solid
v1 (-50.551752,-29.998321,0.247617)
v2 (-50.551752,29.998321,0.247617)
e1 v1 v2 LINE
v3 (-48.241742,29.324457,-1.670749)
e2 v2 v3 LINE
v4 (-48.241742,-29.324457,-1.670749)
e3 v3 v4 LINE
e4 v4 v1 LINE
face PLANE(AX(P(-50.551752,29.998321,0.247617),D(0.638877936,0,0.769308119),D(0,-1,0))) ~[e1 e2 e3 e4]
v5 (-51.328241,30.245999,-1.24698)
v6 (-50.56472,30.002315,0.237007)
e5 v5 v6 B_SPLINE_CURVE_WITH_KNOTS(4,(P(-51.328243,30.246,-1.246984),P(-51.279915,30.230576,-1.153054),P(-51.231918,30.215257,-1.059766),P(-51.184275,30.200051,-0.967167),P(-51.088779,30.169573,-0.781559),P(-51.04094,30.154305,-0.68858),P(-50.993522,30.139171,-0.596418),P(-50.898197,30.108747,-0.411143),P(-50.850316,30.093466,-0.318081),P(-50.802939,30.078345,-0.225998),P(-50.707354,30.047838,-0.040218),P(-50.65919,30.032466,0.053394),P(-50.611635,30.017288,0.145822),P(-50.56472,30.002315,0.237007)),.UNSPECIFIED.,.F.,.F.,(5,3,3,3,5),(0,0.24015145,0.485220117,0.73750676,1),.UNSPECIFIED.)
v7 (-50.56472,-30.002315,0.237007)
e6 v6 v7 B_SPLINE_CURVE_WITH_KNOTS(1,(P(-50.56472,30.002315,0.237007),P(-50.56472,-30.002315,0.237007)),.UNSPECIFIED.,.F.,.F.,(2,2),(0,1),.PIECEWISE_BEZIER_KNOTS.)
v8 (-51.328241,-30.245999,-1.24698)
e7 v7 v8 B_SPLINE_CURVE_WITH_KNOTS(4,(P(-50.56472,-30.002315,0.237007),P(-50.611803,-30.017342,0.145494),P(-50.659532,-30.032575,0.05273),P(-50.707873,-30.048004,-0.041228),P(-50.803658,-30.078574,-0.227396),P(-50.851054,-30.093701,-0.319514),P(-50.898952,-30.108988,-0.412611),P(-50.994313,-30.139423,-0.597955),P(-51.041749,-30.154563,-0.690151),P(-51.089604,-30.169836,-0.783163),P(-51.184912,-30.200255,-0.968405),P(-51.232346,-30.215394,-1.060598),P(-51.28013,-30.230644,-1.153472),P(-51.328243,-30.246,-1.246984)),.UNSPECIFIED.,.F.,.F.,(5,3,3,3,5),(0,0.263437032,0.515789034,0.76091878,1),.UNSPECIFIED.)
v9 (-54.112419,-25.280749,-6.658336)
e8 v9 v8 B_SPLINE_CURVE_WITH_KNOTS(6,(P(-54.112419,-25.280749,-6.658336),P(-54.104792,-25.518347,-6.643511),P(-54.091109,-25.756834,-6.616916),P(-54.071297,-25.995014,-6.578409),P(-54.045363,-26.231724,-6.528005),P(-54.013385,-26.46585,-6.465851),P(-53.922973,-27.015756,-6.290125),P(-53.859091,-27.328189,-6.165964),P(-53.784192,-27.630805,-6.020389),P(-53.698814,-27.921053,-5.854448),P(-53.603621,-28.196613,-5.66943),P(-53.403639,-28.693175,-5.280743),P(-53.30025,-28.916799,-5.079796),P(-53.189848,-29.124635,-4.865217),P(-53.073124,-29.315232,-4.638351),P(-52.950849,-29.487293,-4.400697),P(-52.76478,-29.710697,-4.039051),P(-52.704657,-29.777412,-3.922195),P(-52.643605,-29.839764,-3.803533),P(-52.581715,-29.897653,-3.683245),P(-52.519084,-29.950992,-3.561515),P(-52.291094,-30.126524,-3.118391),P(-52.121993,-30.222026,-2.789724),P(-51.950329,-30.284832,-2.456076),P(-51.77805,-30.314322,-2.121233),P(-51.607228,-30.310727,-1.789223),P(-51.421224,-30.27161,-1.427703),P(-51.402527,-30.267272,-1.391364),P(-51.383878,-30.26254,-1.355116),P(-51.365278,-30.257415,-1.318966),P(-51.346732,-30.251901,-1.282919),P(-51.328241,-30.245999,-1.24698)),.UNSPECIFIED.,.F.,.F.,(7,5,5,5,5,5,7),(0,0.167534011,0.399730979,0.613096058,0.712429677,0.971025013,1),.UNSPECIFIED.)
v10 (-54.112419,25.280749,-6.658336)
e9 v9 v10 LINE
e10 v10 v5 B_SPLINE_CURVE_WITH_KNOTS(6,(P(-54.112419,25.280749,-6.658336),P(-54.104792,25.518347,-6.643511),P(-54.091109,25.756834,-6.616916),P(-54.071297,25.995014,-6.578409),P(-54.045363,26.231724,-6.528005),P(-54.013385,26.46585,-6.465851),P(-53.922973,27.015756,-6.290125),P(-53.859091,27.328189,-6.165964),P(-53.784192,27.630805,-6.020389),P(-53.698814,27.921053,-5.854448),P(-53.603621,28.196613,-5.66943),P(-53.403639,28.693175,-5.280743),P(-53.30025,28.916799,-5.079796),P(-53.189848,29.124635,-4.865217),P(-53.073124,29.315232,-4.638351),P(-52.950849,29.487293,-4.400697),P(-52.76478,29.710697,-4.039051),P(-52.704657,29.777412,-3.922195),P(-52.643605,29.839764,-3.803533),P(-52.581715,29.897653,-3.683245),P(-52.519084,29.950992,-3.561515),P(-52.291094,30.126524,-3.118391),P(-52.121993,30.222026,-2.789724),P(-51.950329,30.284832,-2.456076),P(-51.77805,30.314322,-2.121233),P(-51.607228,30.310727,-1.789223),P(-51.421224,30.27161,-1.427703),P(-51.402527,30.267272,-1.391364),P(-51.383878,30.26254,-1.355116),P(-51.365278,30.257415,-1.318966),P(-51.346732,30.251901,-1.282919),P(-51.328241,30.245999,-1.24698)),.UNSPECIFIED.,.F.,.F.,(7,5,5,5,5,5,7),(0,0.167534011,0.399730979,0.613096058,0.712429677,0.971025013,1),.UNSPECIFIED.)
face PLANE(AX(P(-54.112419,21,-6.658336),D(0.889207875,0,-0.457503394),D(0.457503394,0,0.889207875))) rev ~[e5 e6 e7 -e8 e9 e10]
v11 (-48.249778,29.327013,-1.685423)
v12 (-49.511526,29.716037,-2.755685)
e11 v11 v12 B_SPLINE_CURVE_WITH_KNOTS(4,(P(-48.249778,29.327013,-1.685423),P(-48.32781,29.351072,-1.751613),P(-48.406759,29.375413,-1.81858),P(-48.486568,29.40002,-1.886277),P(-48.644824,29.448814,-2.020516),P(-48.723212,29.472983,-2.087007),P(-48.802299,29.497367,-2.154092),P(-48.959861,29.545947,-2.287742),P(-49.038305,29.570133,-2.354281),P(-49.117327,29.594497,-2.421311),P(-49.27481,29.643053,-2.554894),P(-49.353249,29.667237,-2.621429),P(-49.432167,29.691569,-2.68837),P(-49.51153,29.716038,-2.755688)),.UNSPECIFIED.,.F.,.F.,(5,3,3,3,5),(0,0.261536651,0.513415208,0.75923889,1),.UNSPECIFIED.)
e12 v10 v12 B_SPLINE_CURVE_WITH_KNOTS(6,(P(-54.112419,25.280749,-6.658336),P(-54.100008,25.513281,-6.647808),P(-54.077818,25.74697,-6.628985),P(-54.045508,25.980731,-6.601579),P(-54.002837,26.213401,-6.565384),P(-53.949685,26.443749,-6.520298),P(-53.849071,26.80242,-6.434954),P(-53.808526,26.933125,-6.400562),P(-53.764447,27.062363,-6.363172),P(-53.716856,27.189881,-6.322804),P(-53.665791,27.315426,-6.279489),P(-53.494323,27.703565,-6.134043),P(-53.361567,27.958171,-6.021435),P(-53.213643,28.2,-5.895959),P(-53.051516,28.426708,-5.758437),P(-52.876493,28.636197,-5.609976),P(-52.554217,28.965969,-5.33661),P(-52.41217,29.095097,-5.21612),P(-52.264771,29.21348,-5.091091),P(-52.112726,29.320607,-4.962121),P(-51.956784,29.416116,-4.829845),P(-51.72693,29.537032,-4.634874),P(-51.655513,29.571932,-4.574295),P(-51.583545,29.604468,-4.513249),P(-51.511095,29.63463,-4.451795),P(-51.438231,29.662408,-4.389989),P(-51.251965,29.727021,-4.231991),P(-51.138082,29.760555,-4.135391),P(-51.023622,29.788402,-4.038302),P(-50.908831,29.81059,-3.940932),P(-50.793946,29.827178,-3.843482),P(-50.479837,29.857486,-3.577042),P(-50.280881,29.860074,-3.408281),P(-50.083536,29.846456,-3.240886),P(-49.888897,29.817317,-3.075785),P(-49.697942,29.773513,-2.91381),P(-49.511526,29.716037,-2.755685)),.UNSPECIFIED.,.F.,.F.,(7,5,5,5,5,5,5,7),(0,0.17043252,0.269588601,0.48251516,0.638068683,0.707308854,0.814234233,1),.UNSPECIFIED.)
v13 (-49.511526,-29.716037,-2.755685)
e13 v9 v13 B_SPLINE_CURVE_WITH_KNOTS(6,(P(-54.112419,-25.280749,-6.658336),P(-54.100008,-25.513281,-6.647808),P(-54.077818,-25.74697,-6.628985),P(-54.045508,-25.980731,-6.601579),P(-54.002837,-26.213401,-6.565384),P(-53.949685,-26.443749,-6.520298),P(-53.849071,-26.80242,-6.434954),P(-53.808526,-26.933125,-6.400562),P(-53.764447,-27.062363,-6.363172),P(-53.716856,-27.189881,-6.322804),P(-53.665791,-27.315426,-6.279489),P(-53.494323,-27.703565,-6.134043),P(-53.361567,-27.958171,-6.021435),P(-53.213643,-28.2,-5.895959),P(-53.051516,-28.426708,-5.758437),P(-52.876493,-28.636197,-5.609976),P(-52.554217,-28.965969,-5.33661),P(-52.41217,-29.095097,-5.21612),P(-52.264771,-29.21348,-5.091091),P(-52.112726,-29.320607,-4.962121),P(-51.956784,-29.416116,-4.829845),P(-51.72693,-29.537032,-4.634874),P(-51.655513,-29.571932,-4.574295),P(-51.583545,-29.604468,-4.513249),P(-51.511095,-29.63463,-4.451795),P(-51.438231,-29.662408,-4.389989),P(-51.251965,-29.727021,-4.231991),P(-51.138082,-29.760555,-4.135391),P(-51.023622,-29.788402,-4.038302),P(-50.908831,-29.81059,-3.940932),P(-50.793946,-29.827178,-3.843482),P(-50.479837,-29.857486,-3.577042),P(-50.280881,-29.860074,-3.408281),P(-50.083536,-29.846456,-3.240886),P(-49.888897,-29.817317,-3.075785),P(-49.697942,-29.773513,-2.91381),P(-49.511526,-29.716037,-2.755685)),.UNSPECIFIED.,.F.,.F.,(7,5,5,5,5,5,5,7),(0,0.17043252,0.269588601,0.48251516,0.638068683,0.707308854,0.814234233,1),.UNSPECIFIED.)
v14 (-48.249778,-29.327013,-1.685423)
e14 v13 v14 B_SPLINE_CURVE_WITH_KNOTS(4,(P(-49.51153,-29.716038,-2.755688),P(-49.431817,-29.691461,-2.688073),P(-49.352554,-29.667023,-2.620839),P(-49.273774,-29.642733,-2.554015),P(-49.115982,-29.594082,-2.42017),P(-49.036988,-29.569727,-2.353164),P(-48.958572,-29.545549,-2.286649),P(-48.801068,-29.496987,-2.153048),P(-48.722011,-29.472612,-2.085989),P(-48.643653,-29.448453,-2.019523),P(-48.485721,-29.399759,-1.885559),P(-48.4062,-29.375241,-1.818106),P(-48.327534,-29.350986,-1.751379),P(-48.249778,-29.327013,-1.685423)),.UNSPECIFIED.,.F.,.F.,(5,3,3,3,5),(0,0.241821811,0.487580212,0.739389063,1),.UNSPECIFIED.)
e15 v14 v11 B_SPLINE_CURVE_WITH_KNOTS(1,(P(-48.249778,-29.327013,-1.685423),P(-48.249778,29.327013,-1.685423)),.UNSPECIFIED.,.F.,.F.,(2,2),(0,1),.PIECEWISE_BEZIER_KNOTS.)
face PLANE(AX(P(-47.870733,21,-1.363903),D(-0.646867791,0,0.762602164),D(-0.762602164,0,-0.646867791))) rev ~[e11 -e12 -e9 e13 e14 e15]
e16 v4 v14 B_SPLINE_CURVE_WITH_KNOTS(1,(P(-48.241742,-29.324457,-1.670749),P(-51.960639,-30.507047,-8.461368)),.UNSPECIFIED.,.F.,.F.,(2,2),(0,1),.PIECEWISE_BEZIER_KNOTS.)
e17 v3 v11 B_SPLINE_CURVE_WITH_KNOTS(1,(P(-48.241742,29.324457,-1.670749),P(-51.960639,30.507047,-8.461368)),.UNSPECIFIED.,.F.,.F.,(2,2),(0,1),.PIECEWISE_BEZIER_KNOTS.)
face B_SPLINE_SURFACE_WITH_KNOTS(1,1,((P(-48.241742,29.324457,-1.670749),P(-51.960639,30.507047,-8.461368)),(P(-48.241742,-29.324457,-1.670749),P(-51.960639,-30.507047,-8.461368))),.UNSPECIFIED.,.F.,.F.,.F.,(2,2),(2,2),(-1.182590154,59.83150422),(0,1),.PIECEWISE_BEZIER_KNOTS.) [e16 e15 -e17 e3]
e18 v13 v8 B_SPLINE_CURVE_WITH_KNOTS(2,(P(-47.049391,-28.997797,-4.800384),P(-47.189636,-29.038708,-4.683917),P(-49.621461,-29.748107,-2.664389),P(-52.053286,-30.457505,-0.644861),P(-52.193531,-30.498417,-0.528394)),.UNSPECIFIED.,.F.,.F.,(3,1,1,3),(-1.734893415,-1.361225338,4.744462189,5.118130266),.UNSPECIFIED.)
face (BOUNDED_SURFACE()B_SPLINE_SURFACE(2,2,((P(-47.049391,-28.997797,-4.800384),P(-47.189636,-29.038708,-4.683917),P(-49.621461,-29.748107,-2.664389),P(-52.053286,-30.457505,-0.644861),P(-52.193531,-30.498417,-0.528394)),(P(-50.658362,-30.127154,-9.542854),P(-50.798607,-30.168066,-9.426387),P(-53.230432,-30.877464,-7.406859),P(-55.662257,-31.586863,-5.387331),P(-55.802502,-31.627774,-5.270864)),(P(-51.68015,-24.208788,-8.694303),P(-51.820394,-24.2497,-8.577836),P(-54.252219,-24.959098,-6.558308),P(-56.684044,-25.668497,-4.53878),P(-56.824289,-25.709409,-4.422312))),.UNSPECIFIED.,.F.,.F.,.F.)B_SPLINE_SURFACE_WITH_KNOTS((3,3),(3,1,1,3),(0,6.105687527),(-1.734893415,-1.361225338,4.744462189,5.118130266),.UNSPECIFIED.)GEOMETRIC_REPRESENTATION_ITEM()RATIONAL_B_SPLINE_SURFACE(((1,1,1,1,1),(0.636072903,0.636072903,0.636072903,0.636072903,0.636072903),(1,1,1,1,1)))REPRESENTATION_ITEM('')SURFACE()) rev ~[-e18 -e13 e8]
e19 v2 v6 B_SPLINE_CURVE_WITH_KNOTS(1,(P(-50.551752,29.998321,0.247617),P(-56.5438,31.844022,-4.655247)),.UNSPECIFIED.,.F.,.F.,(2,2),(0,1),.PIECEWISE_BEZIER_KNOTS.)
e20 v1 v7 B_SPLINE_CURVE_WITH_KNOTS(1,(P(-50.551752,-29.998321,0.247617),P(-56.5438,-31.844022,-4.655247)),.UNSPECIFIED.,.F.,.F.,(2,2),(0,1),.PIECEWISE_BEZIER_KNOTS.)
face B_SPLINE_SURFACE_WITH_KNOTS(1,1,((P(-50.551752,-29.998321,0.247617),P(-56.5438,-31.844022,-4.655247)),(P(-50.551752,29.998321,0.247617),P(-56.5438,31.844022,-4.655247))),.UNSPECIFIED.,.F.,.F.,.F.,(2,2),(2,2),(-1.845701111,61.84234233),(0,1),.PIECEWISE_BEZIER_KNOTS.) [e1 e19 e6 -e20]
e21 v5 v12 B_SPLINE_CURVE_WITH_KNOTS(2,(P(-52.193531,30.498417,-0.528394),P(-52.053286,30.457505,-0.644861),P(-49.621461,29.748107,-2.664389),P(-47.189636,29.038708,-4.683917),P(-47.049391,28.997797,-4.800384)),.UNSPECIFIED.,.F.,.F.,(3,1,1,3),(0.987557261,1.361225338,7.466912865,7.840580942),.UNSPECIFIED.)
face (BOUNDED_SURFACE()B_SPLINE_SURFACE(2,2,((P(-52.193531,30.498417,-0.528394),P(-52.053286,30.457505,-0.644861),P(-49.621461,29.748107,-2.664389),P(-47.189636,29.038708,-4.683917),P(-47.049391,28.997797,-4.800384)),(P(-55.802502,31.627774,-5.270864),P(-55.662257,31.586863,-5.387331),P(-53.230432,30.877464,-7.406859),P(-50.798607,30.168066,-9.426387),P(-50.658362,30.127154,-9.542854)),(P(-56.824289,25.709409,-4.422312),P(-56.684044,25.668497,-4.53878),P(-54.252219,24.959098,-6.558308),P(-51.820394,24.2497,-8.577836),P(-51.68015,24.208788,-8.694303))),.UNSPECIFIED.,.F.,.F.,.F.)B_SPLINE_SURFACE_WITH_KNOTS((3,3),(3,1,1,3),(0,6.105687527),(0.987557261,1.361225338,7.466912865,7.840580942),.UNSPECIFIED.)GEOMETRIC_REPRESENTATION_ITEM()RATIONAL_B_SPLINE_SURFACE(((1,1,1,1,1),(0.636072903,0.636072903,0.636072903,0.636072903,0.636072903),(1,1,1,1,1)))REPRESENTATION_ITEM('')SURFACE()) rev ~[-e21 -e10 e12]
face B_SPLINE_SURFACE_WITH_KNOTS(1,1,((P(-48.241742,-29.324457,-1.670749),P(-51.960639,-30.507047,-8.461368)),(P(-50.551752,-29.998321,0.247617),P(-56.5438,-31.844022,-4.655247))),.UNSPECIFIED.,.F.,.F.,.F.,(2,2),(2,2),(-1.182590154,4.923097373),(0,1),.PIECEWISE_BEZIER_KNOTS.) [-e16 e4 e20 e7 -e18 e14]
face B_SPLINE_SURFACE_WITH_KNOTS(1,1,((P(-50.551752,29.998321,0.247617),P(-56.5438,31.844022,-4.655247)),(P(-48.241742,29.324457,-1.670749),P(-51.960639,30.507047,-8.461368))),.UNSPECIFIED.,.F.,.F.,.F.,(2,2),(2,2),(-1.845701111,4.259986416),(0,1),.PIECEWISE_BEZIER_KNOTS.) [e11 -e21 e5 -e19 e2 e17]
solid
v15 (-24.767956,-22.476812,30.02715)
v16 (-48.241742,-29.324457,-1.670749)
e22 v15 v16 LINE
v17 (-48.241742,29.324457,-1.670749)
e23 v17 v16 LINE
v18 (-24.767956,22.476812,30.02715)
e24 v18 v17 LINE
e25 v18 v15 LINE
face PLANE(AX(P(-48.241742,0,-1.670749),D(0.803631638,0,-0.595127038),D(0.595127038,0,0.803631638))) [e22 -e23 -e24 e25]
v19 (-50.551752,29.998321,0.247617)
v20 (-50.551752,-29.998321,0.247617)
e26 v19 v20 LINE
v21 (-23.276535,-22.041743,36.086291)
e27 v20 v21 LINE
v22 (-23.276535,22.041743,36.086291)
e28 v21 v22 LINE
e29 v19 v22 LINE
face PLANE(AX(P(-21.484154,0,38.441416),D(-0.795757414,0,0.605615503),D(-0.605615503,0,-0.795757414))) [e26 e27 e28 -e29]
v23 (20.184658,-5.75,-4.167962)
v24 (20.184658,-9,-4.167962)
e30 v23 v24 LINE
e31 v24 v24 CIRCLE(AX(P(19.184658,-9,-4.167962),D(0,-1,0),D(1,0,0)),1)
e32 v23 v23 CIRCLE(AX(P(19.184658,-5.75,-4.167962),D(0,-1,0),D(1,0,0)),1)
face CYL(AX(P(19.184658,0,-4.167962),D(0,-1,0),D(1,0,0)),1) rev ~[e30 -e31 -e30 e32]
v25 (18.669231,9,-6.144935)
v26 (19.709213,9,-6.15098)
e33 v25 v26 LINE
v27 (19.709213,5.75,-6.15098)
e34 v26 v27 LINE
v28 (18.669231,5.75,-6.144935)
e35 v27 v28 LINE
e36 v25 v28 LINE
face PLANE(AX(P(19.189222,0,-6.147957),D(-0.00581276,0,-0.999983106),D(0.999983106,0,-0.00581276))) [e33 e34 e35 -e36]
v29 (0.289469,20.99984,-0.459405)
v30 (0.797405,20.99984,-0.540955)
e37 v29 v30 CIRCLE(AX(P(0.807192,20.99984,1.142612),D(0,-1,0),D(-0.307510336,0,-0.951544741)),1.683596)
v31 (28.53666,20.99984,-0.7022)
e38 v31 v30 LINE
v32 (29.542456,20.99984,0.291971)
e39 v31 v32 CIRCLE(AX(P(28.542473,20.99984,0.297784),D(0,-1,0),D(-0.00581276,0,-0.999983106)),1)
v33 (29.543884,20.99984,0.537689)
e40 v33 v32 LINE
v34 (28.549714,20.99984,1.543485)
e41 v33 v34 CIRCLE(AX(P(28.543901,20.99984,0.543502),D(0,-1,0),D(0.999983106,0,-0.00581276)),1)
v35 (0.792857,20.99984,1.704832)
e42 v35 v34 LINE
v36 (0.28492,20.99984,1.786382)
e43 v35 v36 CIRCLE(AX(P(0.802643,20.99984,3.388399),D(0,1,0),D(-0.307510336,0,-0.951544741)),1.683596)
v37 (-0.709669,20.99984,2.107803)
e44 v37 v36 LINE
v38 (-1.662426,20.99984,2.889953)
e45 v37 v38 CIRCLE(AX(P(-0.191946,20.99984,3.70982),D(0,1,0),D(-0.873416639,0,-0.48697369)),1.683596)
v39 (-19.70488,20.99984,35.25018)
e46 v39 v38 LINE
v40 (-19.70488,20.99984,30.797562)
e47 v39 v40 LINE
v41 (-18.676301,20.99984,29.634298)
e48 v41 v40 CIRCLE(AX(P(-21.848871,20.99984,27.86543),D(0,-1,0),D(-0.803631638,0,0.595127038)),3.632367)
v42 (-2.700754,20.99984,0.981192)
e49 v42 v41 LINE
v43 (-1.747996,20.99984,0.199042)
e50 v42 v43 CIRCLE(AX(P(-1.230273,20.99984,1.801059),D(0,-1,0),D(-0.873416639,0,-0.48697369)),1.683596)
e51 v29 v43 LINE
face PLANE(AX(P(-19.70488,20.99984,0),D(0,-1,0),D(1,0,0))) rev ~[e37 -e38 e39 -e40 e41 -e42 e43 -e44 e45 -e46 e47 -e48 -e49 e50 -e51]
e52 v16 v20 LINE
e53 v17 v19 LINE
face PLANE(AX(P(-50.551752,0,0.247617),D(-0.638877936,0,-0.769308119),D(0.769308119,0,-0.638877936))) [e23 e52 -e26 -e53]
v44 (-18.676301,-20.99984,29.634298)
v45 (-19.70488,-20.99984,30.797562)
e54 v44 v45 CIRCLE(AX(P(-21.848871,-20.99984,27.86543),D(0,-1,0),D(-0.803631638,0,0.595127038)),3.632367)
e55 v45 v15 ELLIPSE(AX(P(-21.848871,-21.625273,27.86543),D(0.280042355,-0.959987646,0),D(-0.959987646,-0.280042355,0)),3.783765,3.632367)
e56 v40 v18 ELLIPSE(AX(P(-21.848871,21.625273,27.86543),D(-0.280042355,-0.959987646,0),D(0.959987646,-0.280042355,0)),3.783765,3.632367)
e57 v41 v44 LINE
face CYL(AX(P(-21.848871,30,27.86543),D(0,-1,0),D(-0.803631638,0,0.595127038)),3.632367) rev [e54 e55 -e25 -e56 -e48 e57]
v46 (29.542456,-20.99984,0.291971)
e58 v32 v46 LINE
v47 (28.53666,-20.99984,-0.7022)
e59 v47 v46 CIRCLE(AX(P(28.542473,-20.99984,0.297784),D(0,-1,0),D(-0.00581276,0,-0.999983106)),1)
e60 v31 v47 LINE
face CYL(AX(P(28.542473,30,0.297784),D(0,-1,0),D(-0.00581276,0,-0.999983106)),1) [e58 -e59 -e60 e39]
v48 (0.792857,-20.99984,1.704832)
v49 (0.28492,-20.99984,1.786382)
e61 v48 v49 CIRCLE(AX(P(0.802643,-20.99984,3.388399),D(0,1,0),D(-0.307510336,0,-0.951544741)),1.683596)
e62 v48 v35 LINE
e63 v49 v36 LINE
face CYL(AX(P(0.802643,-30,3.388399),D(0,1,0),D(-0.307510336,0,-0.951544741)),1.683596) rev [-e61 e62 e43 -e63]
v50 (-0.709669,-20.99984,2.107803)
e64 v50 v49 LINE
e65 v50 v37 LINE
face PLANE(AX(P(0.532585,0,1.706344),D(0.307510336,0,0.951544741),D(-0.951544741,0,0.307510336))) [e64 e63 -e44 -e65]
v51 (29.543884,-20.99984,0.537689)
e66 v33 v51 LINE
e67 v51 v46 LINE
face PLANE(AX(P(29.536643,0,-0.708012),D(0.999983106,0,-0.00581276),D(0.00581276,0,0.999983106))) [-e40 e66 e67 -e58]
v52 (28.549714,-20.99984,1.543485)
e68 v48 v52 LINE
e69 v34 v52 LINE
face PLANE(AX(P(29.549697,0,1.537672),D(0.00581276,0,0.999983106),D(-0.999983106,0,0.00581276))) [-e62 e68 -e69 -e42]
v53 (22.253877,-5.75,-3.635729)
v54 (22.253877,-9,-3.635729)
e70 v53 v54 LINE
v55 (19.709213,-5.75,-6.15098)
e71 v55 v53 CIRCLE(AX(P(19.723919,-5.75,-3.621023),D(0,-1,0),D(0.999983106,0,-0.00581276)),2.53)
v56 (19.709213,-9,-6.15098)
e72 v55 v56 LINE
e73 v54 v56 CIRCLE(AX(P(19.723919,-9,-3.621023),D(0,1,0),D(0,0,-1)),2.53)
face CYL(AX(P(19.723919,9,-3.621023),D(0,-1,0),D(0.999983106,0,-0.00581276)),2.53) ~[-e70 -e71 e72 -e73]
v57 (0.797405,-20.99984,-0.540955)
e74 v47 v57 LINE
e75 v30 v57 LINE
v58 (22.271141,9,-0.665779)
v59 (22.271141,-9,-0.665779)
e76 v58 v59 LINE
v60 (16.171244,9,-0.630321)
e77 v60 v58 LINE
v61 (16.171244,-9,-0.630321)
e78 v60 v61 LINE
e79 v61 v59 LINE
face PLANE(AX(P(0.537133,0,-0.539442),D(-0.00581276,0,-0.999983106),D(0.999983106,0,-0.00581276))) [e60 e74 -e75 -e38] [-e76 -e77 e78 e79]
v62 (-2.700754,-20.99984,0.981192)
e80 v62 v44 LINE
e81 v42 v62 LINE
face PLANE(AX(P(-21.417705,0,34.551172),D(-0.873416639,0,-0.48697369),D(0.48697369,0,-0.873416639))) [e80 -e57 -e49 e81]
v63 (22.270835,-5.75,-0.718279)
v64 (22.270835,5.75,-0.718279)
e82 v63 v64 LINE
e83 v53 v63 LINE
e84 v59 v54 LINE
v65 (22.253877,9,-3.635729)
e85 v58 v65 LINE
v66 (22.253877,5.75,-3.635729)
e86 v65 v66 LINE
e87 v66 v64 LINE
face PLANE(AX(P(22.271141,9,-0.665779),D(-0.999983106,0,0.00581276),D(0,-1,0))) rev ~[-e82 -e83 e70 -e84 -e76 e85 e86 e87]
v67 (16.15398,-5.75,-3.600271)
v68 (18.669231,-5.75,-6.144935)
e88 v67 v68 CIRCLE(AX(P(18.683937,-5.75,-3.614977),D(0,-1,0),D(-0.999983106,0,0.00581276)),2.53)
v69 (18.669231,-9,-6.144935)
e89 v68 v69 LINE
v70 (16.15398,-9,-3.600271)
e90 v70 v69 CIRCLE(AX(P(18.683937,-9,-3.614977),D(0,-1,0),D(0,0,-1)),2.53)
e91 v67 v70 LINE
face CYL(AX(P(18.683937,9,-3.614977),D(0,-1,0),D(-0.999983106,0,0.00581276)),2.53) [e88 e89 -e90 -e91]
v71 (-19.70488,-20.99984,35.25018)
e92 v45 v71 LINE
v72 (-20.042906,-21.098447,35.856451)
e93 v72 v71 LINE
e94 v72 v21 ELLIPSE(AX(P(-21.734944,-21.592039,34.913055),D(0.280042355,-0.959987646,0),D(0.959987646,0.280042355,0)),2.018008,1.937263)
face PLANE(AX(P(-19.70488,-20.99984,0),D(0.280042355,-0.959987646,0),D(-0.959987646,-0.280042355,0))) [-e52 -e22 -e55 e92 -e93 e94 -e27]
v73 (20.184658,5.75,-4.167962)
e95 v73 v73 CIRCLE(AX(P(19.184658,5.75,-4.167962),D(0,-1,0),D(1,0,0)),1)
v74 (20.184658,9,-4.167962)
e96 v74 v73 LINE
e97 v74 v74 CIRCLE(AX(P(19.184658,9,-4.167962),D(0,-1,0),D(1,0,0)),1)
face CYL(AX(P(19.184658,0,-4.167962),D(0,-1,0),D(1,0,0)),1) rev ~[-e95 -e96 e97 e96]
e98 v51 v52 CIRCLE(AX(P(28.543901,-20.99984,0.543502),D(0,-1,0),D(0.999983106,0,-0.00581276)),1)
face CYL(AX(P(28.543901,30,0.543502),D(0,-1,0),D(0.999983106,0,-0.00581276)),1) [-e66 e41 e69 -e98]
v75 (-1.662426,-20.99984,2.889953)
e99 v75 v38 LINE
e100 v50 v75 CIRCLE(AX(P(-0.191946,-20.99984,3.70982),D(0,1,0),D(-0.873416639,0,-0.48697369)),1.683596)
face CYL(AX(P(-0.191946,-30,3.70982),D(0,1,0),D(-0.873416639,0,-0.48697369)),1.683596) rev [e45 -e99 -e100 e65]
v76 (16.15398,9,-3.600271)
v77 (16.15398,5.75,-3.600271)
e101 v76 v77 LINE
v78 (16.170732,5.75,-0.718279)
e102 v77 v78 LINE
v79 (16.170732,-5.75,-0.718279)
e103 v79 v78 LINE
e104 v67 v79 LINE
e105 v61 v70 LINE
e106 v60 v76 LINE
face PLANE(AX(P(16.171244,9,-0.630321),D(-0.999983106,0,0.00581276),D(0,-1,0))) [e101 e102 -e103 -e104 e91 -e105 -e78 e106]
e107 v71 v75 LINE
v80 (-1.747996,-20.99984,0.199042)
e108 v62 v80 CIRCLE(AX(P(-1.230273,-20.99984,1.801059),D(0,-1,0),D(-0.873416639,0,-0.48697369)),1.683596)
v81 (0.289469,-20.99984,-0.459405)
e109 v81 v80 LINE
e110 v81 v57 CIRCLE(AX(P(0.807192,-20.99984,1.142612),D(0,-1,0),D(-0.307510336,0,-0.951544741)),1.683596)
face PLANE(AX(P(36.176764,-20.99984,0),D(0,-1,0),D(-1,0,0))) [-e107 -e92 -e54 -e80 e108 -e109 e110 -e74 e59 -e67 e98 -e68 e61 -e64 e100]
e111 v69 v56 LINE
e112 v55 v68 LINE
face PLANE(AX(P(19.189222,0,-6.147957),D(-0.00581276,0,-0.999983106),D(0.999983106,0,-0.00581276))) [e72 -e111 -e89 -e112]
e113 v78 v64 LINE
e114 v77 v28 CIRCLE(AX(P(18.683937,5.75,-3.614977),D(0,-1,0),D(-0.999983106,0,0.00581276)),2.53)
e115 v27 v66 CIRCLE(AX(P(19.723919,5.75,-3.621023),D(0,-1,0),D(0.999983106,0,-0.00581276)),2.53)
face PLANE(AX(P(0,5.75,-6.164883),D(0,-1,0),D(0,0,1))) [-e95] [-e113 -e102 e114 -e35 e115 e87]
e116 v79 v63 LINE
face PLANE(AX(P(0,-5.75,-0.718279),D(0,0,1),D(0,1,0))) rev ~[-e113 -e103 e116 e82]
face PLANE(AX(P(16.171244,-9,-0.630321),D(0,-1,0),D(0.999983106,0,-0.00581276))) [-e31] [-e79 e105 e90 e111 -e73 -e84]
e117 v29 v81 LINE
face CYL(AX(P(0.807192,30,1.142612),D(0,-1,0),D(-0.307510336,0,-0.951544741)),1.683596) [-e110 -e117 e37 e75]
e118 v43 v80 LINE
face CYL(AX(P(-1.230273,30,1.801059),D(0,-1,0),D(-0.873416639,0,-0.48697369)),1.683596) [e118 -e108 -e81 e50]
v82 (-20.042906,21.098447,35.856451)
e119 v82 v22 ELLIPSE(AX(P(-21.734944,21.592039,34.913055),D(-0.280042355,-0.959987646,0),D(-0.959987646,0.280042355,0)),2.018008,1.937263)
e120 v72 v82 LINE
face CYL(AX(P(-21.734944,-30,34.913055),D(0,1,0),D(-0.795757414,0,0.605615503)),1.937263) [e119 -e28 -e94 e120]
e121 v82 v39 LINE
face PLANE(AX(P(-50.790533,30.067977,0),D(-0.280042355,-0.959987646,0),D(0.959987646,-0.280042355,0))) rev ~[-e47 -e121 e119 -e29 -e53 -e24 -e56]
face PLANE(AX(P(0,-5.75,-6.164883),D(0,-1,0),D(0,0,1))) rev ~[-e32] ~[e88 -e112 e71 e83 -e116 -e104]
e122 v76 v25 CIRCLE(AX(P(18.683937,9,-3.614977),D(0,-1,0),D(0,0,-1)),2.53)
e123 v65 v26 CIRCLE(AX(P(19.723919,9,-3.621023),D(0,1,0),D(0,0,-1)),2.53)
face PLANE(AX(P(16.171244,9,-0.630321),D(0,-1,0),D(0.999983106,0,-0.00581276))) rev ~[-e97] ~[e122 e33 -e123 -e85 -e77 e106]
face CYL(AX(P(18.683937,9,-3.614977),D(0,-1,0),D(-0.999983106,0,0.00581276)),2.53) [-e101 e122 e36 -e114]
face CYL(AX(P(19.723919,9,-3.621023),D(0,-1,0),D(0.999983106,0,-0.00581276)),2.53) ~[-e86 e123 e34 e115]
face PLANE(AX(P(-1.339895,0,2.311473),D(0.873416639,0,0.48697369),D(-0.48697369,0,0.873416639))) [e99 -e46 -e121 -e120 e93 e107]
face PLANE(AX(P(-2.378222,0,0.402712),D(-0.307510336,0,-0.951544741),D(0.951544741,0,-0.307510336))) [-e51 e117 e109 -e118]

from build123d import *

# Parameters (mm, degrees)
F1_DEPTH  = 30
F2_R      = 1.9372626165
F3_R      = 3.6323674058
F4_R      = 1.6835956322
F5_W      = 6.1
F5_H      = 18
F6_DEPTH  = 5.5
F7_R      = 2.53
F8_R      = 1
F9_DEPTH  = 12.5
F10_W     = 11.5
F10_H     = 5.4466048917
F11_DEPTH = 30.5
F12_R     = 1
F16_DEPTH = 51.6
F18_DEPTH = 7.6
F18_TAPER = -11.0007896665
F19_R     = 5
F21_DEPTH = 65.9


with BuildPart() as f1:
    # F0 (on Front) → F1 (new body, symmetric)
    with BuildSketch(Plane.XZ):
        Polygon((-21.4841543387, 38.441415643), (-50.5517522, 0.2476171236), (-48.2417419553, -1.6707489267), (-21.4177053502, 34.551171923), (-2.3782219554, 0.4027119112), (0.5371333221, -0.539442296), (29.5366433894, -0.7080123418), (29.5496972348, 1.5376720665), (0.5325847111, 1.706344433), (-1.3398946671, 2.3114728499), align=None)
    extrude(amount=F1_DEPTH, both=True)

    # F2
    f2_edges = [f1.edges().sort_by_distance(p)[0] for p in [
        (-21.484154, 0, 38.441416),
    ]]
    fillet(f2_edges, radius=F2_R)

    # F3
    f3_edges = [f1.edges().sort_by_distance(p)[0] for p in [
        (-21.417705, 0, 34.551172),
    ]]
    fillet(f3_edges, radius=F3_R)

    # F4
    f4_edges = [f1.edges().sort_by_distance(p)[0] for p in [
        (-2.378222, 0, 0.402712),
        (0.537133, 0, -0.539442),
        (-1.339895, 0, 2.311473),
        (0.532585, 0, 1.706344),
    ]]
    fillet(f4_edges, radius=F4_R)

    # F5 (on face) → F6 (join)
    with BuildSketch(Plane(origin=(-0.003117447, 0, -0.5363018947), x_dir=(0.9999831058, 0, -0.0058127602), z_dir=(-0.0058127602, 0, -0.9999831058))):
        with Locations((19.224634394, 0)):
            Rectangle(F5_W, F5_H)
    extrude(amount=F6_DEPTH)

    # F7
    f7_edges = [f1.edges().sort_by_distance(p)[0] for p in [
        (16.139274, 0, -6.130228),
        (22.23917, 0, -6.165686),
    ]]
    fillet(f7_edges, radius=F7_R)

    # F8 (on Front) → F9 (cut, symmetric)
    with BuildSketch(Plane.XZ):
        with Locations((19.1846575089, -4.1679624274)):
            Circle(F8_R)
    extrude(amount=F9_DEPTH, both=True, mode=Mode.SUBTRACT)

    # F10 (on Right) → F11 (cut)
    with BuildSketch(Plane.YZ):
        with Locations((0, -3.4415810369)):
            Rectangle(F10_W, F10_H)
    extrude(amount=F11_DEPTH, mode=Mode.SUBTRACT)

    # F12
    f12_edges = [f1.edges().sort_by_distance(p)[0] for p in [
        (29.549697, 0, 1.537672),
        (29.536643, 0, -0.708012),
    ]]
    fillet(f12_edges, radius=F12_R)

    # F15 (on Top) → F16 (cut, symmetric)
    with BuildSketch(Plane.XY):
        Polygon((36.6469656572, -30.0679765642), (36.1767635131, -20.9998395294), (-19.7048801929, -20.9998395294), (-50.7905334234, -30.0679765642), align=None)
        Polygon((-19.7048801929, 20.9998395294), (36.1767635131, 20.9998395294), (36.6469656572, 30.0679765642), (-50.7905334234, 30.0679765642), align=None)
    extrude(amount=F16_DEPTH, both=True, mode=Mode.SUBTRACT)


with BuildPart() as f18:
    # F17 (on face) → F18 (new body)
    with BuildSketch(Plane(origin=(-20.5117545018, 0, -24.6993335959), x_dir=(0.7693081193, 0, -0.6388779364), z_dir=(-0.6388779364, 0, -0.7693081193))):
        Polygon((-39.0480705273, -29.9983206094), (-36.0453591469, -29.3244570333), (-36.0453591469, 29.3244570333), (-39.0480705273, 29.9983206094), align=None)
    extrude(amount=F18_DEPTH, taper=F18_TAPER)

    # F19
    f19_edges = [f18.edges().sort_by_distance(p)[0] for p in [
        (-54.252219, 31.175534, -6.558308),
        (-54.252219, -31.175534, -6.558308),
    ]]
    fillet(f19_edges, radius=F19_R)

    # F20 (on offset) → F21 (cut, symmetric)
    with BuildSketch(Plane.XZ.offset(-21)):
        Polygon((-54.112419486, -6.658335682), (-50.3190383315, 0.7145153941), (-53.9081059396, 1.3606360881), (-57.6216615736, -5.0401142798), (-52.1909035742, -10.3187263012), (-44.9881106615, -4.8535033129), (-47.8707328439, -1.363902702), align=None)
    extrude(amount=F21_DEPTH, both=True, mode=Mode.SUBTRACT)


solid = Compound([f1.part, f18.part])
